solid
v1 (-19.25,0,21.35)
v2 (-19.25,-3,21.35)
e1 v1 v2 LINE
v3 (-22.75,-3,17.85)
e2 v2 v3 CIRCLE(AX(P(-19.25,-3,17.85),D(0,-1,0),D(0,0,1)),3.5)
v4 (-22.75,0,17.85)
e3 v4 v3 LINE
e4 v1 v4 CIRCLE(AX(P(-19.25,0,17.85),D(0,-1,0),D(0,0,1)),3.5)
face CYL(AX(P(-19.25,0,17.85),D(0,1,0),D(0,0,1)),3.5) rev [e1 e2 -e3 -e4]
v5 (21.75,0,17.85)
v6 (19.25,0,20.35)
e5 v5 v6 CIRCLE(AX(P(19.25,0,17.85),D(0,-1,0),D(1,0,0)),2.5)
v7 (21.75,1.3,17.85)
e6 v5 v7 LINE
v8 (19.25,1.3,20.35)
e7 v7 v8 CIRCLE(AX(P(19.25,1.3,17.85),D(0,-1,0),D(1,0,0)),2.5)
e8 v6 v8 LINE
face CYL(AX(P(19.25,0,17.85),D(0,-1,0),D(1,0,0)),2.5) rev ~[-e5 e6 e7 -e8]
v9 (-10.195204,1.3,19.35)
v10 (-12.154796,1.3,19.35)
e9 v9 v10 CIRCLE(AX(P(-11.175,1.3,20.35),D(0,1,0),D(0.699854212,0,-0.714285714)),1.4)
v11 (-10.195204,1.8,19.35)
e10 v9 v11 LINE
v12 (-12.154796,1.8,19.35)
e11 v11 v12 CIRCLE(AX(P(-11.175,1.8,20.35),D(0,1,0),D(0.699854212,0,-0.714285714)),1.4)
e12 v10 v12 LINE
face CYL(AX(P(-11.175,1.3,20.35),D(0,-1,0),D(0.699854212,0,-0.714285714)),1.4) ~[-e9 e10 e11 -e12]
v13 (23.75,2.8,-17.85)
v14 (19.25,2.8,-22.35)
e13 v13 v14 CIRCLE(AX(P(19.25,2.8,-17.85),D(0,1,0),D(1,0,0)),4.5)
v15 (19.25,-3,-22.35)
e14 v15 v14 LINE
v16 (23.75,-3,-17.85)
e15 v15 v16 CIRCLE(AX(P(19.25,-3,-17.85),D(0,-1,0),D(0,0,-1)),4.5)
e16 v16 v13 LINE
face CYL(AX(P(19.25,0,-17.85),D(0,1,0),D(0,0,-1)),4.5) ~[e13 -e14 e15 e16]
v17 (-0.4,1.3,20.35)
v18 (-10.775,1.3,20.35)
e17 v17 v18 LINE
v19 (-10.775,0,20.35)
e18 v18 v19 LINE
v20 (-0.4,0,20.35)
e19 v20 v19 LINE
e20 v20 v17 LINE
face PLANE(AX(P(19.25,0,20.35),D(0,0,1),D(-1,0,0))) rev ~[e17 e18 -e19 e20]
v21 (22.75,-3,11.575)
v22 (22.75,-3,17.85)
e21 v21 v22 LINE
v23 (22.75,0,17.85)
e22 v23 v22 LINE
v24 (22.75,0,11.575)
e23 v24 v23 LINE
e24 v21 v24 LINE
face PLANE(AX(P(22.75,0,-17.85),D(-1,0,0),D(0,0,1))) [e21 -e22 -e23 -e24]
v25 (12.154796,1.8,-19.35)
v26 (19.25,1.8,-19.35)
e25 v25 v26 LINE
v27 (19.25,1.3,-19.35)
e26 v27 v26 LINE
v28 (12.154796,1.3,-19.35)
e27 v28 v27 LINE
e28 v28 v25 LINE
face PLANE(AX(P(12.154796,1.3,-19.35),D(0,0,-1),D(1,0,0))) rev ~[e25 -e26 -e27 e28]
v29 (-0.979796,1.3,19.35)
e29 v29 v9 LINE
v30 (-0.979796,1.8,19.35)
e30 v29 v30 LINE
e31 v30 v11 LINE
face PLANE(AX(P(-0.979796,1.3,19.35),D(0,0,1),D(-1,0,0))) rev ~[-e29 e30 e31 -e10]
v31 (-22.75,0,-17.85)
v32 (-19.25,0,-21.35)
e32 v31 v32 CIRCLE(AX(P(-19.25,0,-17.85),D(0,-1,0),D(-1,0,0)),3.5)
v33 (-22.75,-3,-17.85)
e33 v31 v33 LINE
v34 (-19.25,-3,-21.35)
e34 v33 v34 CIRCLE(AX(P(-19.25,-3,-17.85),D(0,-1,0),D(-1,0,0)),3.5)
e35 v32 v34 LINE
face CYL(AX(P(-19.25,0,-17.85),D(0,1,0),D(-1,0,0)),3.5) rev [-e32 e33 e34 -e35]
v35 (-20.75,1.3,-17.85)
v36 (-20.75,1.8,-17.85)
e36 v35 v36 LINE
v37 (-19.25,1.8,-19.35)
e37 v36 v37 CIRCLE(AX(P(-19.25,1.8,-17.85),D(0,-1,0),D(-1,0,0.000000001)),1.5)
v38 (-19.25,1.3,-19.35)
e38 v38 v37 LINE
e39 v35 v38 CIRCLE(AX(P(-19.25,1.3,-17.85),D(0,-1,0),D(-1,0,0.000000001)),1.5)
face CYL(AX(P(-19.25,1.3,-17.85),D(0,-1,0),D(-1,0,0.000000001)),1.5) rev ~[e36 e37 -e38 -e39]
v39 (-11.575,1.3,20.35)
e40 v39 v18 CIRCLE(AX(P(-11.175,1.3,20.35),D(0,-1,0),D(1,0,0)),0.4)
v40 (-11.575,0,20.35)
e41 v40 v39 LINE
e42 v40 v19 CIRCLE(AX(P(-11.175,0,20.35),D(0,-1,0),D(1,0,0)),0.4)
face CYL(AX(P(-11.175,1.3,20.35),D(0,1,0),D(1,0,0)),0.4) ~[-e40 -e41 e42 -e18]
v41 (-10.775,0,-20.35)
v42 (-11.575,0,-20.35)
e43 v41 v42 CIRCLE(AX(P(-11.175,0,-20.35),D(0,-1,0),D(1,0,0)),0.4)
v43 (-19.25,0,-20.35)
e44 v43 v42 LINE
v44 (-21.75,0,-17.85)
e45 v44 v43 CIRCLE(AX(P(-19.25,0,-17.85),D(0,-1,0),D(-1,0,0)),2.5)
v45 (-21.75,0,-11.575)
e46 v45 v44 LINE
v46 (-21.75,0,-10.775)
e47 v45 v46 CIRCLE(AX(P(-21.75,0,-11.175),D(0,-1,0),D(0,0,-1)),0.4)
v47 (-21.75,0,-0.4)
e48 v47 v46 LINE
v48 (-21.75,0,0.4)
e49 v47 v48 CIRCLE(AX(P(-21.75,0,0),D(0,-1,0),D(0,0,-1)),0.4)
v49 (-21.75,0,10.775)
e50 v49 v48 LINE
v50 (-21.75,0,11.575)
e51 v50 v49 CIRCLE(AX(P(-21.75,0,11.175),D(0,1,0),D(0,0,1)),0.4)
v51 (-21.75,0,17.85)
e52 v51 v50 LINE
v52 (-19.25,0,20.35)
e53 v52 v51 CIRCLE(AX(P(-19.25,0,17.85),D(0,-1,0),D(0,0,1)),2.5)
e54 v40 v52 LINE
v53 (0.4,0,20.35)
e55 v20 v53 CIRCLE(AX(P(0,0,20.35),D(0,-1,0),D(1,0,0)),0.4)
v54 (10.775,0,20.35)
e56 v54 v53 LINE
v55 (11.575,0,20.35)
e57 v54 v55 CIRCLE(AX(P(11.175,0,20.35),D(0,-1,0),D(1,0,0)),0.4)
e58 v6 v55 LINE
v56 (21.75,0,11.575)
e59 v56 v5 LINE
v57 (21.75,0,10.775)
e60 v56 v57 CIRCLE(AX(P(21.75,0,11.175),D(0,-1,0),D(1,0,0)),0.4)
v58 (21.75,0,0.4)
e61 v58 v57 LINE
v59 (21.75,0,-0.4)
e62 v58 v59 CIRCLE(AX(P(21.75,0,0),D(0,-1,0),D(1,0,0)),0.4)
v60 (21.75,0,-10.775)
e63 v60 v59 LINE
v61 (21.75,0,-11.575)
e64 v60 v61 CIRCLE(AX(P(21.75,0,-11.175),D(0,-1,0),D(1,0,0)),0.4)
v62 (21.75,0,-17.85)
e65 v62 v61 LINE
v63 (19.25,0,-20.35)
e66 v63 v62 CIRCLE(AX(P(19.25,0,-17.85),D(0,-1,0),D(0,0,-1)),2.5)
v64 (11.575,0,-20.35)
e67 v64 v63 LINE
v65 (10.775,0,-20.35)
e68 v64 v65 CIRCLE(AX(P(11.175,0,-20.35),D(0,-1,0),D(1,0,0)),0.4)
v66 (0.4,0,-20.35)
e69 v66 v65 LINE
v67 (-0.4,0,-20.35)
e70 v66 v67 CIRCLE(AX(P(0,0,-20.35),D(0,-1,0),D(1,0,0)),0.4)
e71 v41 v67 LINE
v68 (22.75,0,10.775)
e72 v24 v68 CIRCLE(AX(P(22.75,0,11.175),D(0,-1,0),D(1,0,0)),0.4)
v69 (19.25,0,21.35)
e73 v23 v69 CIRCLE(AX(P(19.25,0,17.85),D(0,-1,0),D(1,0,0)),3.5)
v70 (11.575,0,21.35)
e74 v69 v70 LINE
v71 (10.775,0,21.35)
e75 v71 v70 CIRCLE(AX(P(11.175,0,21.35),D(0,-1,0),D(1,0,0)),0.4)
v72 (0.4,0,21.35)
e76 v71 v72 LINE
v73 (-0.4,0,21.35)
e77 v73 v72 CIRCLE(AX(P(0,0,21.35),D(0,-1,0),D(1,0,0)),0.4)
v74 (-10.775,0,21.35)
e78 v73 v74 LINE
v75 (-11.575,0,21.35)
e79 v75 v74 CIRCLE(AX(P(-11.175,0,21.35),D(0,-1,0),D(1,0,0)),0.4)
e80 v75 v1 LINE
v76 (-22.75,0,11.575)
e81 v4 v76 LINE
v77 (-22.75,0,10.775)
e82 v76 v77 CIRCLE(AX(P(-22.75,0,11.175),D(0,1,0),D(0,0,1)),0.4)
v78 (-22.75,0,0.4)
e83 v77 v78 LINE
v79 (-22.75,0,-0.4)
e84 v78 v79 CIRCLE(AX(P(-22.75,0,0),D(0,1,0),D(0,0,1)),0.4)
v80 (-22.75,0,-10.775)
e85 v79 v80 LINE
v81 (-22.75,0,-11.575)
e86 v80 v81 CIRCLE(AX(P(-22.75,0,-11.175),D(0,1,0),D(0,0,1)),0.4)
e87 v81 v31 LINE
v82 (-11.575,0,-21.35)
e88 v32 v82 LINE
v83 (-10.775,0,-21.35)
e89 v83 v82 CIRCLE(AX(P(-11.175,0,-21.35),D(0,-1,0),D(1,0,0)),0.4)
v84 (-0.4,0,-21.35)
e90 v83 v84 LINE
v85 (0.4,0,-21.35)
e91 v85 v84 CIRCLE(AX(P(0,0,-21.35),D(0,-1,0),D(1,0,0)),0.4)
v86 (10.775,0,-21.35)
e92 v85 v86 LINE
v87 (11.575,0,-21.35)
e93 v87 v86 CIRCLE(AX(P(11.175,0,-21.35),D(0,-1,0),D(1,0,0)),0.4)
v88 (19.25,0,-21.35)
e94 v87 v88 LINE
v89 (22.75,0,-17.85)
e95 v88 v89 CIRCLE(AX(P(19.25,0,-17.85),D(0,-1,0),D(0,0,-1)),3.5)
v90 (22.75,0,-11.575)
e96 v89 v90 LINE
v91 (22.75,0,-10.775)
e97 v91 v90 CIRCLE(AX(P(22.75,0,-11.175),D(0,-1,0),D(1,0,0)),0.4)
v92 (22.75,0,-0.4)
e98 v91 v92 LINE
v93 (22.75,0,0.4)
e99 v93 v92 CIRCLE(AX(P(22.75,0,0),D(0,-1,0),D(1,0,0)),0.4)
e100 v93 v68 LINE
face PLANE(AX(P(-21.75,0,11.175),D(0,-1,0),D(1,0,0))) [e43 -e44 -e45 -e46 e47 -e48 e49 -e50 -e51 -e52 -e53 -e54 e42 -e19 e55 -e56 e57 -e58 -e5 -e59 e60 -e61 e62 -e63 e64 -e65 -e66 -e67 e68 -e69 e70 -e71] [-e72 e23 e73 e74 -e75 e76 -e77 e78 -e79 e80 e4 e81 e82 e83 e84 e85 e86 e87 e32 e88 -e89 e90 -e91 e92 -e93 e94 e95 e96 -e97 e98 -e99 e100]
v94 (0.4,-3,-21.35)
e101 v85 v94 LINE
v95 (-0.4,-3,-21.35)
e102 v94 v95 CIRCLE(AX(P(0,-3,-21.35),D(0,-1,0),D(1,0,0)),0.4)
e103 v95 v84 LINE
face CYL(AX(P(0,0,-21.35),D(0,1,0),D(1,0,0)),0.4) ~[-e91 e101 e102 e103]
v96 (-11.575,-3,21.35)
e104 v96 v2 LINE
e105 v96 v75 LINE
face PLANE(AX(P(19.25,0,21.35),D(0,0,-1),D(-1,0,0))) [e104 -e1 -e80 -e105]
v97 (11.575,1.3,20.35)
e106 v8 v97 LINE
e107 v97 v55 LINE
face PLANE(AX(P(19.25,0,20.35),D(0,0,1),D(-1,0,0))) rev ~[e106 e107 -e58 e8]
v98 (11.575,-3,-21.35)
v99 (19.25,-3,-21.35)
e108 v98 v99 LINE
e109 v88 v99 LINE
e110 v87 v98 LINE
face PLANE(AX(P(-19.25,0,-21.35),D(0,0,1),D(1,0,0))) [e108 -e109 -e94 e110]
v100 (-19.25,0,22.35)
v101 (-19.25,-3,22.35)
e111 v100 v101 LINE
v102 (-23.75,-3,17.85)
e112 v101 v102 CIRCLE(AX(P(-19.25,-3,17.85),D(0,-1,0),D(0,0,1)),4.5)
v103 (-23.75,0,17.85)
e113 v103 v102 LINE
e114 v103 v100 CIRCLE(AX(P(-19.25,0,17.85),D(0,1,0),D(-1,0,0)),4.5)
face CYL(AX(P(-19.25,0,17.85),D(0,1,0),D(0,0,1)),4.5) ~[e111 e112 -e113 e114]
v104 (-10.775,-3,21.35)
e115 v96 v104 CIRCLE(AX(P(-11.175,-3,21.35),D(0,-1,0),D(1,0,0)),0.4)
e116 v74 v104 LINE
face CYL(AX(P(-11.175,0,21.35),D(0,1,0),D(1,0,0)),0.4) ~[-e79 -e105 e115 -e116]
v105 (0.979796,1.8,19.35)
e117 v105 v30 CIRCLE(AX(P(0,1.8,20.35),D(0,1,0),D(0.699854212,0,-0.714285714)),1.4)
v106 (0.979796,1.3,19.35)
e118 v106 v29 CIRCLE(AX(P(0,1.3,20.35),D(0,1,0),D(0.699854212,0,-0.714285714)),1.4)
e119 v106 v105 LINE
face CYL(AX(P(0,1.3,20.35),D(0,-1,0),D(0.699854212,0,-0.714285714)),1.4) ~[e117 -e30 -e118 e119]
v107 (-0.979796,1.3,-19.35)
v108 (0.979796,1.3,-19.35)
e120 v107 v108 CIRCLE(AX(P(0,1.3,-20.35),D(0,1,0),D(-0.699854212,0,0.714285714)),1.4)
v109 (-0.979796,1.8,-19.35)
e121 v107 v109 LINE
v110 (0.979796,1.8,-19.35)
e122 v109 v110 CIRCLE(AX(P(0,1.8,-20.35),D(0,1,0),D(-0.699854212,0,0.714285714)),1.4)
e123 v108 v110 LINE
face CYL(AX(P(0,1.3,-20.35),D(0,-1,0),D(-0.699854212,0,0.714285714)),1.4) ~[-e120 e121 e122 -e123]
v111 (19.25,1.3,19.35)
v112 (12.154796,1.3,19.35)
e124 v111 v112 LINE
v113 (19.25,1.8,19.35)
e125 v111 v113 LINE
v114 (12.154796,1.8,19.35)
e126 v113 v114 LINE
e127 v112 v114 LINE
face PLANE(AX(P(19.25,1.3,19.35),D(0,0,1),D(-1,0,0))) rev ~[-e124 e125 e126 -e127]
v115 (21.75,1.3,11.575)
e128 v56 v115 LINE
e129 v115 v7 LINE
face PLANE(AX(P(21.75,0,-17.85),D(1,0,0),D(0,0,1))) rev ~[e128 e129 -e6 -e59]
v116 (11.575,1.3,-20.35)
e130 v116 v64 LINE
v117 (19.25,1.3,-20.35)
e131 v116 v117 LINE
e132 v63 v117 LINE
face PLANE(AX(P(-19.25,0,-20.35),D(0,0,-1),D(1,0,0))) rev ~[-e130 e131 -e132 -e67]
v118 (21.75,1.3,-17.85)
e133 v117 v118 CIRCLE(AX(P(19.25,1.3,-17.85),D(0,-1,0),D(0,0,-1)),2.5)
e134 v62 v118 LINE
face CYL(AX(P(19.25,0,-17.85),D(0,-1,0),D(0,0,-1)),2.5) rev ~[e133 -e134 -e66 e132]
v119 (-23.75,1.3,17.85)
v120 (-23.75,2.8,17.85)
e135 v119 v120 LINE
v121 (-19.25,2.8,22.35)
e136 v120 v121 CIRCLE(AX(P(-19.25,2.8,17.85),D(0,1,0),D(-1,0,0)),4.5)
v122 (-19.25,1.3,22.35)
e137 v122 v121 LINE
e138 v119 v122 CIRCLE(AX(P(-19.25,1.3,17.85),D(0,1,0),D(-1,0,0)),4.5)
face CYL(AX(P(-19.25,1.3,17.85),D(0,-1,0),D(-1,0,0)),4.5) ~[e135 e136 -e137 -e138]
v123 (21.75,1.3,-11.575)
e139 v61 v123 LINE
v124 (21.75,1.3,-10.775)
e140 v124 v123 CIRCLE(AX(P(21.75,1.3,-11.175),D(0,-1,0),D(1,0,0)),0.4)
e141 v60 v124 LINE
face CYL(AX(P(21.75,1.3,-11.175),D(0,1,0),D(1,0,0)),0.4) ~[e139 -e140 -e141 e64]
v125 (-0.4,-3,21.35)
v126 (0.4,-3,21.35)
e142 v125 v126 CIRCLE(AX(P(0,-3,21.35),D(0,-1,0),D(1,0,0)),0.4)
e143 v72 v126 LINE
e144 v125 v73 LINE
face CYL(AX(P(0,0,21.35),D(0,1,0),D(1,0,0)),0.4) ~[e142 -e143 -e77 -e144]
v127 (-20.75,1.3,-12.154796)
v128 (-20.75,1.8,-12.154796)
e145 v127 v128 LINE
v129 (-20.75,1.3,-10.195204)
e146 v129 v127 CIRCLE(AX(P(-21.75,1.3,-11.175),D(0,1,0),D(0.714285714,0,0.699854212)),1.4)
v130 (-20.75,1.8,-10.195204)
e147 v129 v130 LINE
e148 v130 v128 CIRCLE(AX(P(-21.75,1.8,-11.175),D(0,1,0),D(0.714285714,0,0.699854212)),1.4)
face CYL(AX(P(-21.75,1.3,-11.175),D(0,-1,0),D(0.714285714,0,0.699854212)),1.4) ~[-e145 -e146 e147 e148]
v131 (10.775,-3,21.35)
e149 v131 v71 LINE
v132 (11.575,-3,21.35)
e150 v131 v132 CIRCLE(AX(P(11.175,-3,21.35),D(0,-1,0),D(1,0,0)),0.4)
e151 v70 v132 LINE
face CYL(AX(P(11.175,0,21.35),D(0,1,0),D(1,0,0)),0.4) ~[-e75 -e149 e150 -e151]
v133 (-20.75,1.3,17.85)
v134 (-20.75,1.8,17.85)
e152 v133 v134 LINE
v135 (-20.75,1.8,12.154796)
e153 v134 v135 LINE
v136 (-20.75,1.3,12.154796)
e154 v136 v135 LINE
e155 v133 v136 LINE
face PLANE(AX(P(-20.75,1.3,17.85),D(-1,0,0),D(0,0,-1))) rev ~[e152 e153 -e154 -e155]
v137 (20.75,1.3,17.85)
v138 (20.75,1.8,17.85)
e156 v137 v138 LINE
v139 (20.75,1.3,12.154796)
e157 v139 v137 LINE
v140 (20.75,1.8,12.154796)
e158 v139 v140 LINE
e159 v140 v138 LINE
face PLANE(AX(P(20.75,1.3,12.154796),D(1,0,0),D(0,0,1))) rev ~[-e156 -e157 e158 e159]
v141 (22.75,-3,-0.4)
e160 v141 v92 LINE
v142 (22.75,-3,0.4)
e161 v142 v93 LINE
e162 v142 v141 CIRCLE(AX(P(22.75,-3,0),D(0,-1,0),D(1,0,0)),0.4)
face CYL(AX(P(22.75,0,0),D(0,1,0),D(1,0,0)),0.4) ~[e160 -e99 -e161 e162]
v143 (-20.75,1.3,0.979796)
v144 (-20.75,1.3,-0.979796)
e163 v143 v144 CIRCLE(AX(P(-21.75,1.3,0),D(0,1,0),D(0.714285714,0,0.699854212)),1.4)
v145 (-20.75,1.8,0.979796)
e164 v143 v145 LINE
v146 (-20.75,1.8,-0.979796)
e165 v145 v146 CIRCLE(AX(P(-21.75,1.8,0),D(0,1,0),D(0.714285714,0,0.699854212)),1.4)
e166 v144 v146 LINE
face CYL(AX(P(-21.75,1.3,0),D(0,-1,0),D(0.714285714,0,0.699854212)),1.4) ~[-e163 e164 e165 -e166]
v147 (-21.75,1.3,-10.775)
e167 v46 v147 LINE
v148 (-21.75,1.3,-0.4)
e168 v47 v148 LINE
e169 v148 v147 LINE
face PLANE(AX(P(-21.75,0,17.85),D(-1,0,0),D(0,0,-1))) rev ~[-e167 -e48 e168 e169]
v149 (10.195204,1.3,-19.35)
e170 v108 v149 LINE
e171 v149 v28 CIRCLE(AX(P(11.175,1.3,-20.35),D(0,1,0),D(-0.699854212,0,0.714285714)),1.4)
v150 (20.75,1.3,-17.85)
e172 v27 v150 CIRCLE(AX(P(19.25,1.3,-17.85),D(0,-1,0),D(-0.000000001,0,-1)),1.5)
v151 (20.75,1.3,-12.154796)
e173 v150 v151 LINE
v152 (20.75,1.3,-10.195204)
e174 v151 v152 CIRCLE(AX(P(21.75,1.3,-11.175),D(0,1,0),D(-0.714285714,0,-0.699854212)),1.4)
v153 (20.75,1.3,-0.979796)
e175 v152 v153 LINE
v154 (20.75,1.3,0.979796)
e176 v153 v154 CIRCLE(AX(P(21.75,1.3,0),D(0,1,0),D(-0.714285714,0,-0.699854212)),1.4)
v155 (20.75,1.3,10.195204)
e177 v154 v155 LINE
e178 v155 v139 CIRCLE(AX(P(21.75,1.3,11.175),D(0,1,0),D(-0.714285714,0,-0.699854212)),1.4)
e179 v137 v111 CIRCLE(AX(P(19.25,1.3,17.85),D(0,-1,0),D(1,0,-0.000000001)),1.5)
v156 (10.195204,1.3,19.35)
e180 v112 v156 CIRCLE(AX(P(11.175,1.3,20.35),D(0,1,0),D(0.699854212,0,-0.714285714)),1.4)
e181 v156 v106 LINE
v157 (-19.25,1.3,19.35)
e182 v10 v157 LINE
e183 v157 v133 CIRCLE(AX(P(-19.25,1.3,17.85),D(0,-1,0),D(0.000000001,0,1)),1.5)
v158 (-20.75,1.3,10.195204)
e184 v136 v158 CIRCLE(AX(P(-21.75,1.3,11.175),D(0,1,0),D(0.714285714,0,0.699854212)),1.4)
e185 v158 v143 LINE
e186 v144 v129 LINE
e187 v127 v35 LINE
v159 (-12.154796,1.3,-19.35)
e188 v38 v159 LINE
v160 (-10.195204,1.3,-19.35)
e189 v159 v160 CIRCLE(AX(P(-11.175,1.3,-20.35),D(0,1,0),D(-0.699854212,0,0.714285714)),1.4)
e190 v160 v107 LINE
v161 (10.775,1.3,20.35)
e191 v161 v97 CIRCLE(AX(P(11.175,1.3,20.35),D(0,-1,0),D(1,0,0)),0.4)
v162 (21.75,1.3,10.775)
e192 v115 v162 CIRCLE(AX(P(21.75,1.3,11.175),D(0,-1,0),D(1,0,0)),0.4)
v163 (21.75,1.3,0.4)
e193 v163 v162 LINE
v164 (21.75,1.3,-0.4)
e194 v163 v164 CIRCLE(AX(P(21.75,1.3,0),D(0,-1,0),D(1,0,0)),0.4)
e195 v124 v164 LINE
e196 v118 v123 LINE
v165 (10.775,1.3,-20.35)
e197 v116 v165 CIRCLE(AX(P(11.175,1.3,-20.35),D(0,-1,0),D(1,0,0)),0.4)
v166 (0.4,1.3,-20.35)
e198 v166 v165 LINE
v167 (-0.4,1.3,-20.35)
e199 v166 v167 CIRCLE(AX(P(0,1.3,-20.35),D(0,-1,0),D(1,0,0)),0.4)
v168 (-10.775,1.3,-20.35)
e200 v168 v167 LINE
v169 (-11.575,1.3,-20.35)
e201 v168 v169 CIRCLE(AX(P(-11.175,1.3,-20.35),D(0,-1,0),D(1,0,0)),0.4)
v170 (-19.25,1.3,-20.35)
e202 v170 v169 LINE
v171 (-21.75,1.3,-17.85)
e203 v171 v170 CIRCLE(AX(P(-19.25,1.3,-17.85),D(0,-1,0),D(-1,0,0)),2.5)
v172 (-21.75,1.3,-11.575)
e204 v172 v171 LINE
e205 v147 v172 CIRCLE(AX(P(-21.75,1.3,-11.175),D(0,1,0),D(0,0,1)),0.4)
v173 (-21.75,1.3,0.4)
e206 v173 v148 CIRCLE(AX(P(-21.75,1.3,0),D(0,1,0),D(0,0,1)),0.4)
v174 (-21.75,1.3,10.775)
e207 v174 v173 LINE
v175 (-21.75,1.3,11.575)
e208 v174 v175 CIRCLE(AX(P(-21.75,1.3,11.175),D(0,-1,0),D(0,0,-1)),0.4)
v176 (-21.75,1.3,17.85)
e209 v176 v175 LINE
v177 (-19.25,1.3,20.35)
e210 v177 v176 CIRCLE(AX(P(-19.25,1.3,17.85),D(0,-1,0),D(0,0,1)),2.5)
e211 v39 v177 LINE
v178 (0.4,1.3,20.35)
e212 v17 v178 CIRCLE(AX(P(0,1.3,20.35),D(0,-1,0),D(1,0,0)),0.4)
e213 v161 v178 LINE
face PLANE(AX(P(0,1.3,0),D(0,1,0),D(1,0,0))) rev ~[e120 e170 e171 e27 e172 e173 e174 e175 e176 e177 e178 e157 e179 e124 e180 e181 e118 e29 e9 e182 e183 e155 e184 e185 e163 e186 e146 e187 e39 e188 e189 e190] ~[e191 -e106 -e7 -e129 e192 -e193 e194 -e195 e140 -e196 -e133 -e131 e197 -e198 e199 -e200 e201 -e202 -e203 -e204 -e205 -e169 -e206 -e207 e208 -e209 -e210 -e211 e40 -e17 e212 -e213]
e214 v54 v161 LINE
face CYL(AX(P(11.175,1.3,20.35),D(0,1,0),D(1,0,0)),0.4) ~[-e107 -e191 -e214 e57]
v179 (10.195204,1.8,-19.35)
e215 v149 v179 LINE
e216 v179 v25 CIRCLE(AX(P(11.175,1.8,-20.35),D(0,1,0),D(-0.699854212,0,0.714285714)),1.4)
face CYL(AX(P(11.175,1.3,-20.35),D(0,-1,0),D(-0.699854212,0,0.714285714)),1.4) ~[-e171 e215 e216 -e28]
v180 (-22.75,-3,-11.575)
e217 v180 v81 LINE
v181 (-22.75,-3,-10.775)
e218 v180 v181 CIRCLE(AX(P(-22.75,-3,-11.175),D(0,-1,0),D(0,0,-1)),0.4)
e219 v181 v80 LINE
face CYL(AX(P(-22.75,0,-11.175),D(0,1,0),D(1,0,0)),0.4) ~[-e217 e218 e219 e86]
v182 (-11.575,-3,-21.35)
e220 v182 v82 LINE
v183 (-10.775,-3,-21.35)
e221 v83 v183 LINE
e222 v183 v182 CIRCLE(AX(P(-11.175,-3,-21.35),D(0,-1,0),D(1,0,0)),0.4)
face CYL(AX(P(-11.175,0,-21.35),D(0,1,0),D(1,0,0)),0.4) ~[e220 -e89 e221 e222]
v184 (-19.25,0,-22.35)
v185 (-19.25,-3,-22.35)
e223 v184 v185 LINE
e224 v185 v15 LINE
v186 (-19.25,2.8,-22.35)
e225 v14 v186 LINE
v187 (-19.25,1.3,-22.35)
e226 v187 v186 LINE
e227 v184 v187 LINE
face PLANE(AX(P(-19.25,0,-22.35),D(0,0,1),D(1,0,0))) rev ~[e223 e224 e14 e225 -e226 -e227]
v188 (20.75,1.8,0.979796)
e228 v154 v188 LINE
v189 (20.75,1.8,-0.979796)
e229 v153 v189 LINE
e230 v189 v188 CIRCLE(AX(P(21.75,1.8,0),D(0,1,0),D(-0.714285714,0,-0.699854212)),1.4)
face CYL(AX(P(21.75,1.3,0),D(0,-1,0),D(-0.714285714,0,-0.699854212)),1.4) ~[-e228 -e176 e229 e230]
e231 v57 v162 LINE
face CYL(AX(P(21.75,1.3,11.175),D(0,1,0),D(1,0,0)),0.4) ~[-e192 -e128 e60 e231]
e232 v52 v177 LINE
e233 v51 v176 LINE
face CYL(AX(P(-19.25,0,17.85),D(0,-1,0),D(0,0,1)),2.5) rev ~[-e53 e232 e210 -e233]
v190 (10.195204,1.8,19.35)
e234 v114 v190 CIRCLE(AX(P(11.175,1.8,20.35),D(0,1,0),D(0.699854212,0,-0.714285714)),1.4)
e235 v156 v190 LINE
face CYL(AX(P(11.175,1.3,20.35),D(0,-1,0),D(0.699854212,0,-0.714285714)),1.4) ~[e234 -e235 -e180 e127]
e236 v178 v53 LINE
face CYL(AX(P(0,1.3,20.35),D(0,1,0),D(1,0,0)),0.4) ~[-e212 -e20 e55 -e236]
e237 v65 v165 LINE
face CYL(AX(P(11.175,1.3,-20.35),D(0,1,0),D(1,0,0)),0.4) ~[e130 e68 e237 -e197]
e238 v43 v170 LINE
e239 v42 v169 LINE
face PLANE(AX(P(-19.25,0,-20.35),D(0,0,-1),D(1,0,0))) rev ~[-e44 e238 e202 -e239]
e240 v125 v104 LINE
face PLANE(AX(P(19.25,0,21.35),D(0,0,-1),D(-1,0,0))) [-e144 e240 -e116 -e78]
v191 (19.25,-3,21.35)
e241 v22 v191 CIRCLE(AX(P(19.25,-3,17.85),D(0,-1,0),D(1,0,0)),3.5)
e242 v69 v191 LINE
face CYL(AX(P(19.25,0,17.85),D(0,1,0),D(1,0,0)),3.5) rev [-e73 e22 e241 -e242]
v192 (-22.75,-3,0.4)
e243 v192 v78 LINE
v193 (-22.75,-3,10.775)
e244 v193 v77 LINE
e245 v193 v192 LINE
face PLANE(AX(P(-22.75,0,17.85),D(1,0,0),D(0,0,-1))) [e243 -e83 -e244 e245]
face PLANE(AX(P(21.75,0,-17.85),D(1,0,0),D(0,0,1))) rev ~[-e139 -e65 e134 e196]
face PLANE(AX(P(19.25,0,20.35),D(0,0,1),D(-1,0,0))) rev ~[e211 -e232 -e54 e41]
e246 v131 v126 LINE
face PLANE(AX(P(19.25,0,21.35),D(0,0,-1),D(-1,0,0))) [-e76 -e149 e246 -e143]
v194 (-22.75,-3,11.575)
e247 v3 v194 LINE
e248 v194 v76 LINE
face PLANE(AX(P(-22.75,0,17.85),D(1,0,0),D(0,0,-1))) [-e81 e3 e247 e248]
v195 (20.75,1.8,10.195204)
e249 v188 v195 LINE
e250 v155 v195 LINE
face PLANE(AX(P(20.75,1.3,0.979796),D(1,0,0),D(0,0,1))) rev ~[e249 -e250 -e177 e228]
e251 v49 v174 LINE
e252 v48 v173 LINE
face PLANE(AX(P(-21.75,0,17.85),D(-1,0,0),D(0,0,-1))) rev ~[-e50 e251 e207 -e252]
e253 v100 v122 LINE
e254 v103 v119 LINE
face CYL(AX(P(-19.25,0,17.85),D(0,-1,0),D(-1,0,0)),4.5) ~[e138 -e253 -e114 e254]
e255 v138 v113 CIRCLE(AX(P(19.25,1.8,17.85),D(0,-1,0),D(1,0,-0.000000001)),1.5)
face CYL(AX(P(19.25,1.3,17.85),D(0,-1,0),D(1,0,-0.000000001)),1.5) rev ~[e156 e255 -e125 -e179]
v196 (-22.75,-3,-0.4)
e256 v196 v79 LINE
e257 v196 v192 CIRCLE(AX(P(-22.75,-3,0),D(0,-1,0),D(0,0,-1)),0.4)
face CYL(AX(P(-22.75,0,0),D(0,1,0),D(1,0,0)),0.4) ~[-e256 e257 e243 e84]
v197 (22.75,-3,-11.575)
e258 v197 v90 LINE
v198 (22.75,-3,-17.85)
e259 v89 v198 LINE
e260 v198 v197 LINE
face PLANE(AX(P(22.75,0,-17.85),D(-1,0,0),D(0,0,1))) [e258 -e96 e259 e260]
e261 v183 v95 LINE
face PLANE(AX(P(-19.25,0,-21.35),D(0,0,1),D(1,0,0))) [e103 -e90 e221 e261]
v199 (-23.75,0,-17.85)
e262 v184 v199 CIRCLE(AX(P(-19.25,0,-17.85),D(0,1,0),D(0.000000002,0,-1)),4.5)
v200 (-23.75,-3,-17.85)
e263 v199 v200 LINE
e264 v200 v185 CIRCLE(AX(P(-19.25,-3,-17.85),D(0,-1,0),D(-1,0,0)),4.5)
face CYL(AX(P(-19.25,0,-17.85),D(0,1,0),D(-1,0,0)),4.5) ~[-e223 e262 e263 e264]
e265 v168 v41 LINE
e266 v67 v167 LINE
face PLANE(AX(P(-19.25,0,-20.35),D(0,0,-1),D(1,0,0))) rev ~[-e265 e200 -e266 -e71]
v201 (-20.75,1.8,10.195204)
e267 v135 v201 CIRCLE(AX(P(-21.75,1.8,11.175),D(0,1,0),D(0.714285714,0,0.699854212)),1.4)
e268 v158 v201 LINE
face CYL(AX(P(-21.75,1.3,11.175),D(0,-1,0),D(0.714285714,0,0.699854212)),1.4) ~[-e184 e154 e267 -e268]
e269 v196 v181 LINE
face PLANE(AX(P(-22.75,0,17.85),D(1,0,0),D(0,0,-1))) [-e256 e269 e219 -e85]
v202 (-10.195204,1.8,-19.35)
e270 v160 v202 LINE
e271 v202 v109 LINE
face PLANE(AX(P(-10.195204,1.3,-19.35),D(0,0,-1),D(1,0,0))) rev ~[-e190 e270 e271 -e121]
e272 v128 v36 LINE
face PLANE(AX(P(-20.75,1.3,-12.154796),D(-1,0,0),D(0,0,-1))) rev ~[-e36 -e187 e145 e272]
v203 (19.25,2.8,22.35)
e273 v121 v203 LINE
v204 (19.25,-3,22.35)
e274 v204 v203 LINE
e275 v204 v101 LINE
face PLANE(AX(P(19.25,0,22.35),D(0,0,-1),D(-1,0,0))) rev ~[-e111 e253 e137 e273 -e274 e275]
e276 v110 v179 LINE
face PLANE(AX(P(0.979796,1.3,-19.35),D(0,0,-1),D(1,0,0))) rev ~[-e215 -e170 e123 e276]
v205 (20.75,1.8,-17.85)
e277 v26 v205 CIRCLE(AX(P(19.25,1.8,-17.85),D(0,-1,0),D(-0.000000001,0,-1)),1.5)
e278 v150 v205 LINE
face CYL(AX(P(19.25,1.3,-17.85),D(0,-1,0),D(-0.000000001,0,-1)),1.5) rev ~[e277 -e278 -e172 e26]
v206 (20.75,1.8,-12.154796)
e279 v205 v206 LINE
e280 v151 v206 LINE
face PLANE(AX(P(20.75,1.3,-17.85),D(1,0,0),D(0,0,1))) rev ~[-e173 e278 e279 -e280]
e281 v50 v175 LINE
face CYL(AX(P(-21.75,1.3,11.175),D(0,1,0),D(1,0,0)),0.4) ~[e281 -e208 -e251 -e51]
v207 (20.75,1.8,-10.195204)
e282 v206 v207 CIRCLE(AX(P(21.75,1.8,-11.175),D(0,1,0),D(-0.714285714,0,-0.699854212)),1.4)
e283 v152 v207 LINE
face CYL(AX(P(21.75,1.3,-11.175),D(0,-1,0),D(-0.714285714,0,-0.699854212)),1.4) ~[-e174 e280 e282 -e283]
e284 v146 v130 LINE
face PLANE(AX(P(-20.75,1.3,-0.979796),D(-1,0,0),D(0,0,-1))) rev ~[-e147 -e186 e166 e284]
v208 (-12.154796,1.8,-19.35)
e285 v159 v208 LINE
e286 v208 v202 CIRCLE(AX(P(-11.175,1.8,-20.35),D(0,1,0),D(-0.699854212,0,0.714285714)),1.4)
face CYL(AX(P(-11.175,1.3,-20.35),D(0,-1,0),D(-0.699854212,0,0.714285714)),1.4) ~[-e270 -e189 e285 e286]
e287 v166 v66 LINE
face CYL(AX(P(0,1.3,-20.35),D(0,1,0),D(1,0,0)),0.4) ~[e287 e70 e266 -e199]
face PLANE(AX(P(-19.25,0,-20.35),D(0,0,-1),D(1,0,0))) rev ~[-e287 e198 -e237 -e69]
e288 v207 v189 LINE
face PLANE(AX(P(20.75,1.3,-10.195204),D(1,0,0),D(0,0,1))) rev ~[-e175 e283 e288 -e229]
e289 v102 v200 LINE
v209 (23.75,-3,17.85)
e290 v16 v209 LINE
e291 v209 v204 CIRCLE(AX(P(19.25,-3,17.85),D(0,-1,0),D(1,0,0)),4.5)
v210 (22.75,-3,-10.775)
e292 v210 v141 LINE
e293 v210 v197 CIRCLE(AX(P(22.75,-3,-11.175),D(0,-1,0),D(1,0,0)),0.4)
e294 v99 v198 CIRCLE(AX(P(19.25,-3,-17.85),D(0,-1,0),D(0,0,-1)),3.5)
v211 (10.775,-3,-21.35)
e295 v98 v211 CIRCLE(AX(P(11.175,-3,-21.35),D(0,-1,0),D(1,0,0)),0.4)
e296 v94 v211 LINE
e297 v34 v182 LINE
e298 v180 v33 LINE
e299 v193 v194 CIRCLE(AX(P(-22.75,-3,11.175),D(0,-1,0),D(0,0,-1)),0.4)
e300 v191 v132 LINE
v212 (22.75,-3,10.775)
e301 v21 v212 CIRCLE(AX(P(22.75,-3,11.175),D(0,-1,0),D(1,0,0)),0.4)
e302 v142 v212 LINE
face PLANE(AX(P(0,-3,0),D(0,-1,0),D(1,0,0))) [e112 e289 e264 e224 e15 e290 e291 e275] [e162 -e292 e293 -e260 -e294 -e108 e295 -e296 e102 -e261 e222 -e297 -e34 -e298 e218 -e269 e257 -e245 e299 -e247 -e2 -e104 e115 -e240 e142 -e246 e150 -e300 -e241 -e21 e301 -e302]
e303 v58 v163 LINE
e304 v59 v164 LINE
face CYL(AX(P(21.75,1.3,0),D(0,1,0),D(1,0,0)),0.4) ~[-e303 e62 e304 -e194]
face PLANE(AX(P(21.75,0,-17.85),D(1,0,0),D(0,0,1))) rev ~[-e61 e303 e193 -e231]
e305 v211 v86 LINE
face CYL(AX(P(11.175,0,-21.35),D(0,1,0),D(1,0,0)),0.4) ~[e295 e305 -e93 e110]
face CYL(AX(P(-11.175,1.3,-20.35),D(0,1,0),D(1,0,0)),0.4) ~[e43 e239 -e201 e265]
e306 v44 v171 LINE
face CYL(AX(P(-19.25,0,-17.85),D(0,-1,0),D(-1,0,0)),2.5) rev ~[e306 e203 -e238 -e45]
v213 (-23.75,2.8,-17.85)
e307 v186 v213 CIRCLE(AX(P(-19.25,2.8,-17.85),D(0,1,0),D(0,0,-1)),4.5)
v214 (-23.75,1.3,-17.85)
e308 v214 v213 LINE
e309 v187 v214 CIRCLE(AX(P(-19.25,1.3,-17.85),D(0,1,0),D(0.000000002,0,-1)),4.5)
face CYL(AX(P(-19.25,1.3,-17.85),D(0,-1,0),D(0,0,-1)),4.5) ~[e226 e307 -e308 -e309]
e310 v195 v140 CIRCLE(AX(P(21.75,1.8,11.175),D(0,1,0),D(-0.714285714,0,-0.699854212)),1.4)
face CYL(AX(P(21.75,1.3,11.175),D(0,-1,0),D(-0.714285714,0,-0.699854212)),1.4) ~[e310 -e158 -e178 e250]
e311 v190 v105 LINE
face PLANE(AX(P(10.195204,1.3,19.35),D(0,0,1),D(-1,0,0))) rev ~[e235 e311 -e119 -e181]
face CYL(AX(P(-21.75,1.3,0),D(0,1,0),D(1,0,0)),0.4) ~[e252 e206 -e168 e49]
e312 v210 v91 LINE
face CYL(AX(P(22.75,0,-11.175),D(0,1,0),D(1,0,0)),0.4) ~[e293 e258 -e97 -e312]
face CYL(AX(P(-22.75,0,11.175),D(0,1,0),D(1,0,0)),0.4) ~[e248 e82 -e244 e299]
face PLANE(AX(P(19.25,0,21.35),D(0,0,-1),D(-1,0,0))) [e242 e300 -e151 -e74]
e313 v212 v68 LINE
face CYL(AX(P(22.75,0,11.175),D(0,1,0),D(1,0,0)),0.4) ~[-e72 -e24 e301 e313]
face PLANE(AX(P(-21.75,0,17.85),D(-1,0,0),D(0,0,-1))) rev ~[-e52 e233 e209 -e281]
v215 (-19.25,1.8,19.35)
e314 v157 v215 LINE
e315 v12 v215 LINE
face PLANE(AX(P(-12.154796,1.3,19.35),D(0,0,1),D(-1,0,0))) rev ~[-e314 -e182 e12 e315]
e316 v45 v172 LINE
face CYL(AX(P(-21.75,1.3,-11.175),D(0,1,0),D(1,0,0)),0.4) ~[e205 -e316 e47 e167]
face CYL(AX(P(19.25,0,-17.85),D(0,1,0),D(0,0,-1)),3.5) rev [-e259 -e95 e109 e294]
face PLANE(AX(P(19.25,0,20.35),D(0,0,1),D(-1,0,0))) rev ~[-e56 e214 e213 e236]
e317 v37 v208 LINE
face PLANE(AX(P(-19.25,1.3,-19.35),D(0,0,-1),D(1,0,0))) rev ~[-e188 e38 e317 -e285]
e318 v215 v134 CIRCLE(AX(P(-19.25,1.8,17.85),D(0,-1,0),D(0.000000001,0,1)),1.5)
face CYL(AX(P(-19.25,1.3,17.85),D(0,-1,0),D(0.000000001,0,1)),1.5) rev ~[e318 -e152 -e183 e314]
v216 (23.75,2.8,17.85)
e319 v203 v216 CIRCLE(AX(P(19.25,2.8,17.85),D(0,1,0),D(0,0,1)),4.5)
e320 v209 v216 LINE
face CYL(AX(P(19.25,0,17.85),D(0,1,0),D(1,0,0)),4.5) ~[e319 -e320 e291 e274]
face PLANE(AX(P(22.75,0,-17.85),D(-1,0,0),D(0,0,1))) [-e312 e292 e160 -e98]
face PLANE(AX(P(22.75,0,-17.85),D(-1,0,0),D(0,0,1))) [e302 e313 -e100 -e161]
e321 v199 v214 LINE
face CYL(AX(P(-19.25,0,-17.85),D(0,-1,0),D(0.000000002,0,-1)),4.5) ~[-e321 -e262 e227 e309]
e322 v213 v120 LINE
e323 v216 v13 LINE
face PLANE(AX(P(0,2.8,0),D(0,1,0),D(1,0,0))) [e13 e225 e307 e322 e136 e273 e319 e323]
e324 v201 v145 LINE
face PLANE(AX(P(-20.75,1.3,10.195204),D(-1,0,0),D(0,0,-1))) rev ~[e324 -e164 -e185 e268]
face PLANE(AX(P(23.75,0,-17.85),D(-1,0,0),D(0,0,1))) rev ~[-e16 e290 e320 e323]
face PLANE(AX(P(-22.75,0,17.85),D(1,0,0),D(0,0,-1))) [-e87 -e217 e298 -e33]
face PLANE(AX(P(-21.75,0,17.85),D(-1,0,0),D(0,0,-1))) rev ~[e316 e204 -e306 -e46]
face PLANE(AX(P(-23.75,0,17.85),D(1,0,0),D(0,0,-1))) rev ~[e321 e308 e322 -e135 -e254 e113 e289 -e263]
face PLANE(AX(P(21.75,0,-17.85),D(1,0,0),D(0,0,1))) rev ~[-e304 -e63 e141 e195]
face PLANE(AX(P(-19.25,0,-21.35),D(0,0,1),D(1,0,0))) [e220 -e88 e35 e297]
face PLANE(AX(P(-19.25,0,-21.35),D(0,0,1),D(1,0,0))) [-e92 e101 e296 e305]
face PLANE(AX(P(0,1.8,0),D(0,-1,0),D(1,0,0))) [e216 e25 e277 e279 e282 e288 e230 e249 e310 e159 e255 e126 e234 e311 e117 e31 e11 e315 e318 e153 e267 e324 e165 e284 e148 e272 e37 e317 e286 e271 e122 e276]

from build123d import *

# Parameters (mm, degrees)
BOSS_EXTRUDE1_DEPTH = 1.3
BOSS_EXTRUDE2_DEPTH = 1.5
SKETCH3_R           = 0.4
BOSS_EXTRUDE3_DEPTH = 1.3
BOSS_EXTRUDE4_DEPTH = 3
CUT_EXTRUDE1_DEPTH  = 0.5
SKETCH8_R           = 0.4
BOSS_EXTRUDE5_DEPTH = 3


with BuildPart() as part:
    # Sketch1 → Boss-Extrude1 (new body)
    with BuildSketch(Plane(origin=(0, 0, 0), x_dir=(1, 0, 0), z_dir=(0, 1, 0))):
        with BuildLine():
            Line((-19.250000047, -22.35), (19.25, -22.35))
            ThreePointArc((19.25, -22.35), (22.431980515, -21.031980515), (23.75, -17.85))
            Line((23.75, -17.85), (23.75, 17.85))
            ThreePointArc((23.75, 17.85), (22.431980515, 21.031980515), (19.25, 22.35))
            Line((19.25, 22.35), (-19.249999992, 22.35))
            ThreePointArc((-19.249999992, 22.35), (-22.431980512, 21.031980518), (-23.75, 17.85))
            Line((-23.75, 17.85), (-23.75, -17.85))
            ThreePointArc((-23.75, -17.85), (-22.431980532, -21.031980499), (-19.250000047, -22.35))
        make_face()
        with BuildLine():
            ThreePointArc((19.25, 20.35), (21.017766953, 19.617766953), (21.75, 17.85))
            Line((21.75, 17.85), (21.75, -17.85))
            ThreePointArc((21.75, -17.85), (21.017766953, -19.617766953), (19.25, -20.35))
            Line((19.25, -20.35), (-19.25, -20.35))
            ThreePointArc((-19.25, -20.35), (-21.017766953, -19.617766953), (-21.75, -17.85))
            Line((-21.75, -17.85), (-21.75, 17.85))
            ThreePointArc((-21.75, 17.85), (-21.017766953, 19.617766953), (-19.25, 20.35))
            Line((-19.25, 20.35), (19.25, 20.35))
        make_face(mode=Mode.SUBTRACT)
    extrude(amount=BOSS_EXTRUDE1_DEPTH)

    # Sketch2 → Boss-Extrude2 (add)
    with BuildSketch(Plane(origin=(0, 1.3, 0), x_dir=(1, 0, 0), z_dir=(0, 1, 0))):
        with BuildLine():
            Line((-19.25, -22.35), (19.25, -22.35))
            ThreePointArc((19.25, -22.35), (22.431980515, -21.031980515), (23.75, -17.85))
            Line((23.75, -17.85), (23.75, 17.85))
            ThreePointArc((23.75, 17.85), (22.431980515, 21.031980515), (19.25, 22.35))
            Line((19.25, 22.35), (-19.25, 22.35))
            ThreePointArc((-19.25, 22.35), (-22.431980515, 21.031980515), (-23.75, 17.85))
            Line((-23.75, 17.85), (-23.75, -17.85))
            ThreePointArc((-23.75, -17.85), (-22.431980515, -21.031980515), (-19.25, -22.35))
        make_face()
    extrude(amount=BOSS_EXTRUDE2_DEPTH)

    # Sketch3 → Boss-Extrude3 (add)
    with BuildSketch(Plane.XZ.offset(-1.3)):
        with Locations((-21.75, 11.175)):
            Circle(SKETCH3_R)
        with Locations((-21.75, 0)):
            Circle(SKETCH3_R)
        with Locations((-21.75, -11.175)):
            Circle(SKETCH3_R)
        with Locations((-11.175, -20.35)):
            Circle(SKETCH3_R)
        with Locations((11.175, -20.35)):
            Circle(SKETCH3_R)
        with Locations((21.75, -11.175)):
            Circle(SKETCH3_R)
        with Locations((21.75, 0)):
            Circle(SKETCH3_R)
        with Locations((21.75, 11.175)):
            Circle(SKETCH3_R)
        with Locations((11.175, 20.35)):
            Circle(SKETCH3_R)
        with Locations((0, 20.35)):
            Circle(SKETCH3_R)
        with Locations((-11.175, 20.35)):
            Circle(SKETCH3_R)
        with Locations((0, -20.35)):
            Circle(SKETCH3_R)
    extrude(amount=BOSS_EXTRUDE3_DEPTH)

    # Sketch4 → Boss-Extrude4 (add)
    with BuildSketch(Plane.XZ):
        with BuildLine():
            Line((19.25, 22.35), (-19.25, 22.35))
            ThreePointArc((-19.25, 22.35), (-22.431980515, 21.031980515), (-23.75, 17.85))
            Line((-23.75, 17.85), (-23.75, -17.85))
            ThreePointArc((-23.75, -17.85), (-22.431980515, -21.031980515), (-19.25, -22.35))
            Line((-19.25, -22.35), (19.25, -22.35))
            ThreePointArc((19.25, -22.35), (22.431980515, -21.031980515), (23.75, -17.85))
            Line((23.75, -17.85), (23.75, 17.85))
            ThreePointArc((23.75, 17.85), (22.431980515, 21.031980515), (19.25, 22.35))
        make_face()
        with BuildLine():
            Line((-22.75, 17.85), (-22.75, -17.85))
            ThreePointArc((-22.75, -17.85), (-21.724873734, -20.324873734), (-19.25, -21.35))
            Line((-19.25, -21.35), (19.25, -21.35))
            ThreePointArc((19.25, -21.35), (21.724873734, -20.324873734), (22.75, -17.85))
            Line((22.75, -17.85), (22.75, 17.85))
            ThreePointArc((22.75, 17.85), (21.724873734, 20.324873734), (19.25, 21.35))
            Line((19.25, 21.35), (-19.25, 21.35))
            ThreePointArc((-19.25, 21.35), (-21.724873734, 20.324873734), (-22.75, 17.85))
        make_face(mode=Mode.SUBTRACT)
    extrude(amount=BOSS_EXTRUDE4_DEPTH)

    # Sketch5 → Cut-Extrude1 (cut)
    with BuildSketch(Plane.XZ.offset(-1.3)):
        with BuildLine():
            Line((0.979795897, -19.35), (10.195204103, -19.35))
            ThreePointArc((10.195204103, -19.35), (11.175, -18.95), (12.154795897, -19.35))
            Line((12.154795897, -19.35), (19.25, -19.35))
            ThreePointArc((19.25, -19.35), (20.310660172, -18.910660172), (20.75, -17.85))
            Line((20.75, -17.85), (20.75, -12.154795897))
            ThreePointArc((20.75, -12.154795897), (20.35, -11.175), (20.75, -10.195204103))
            Line((20.75, -10.195204103), (20.75, -0.979795897))
            ThreePointArc((20.75, -0.979795897), (20.35, 0), (20.75, 0.979795897))
            Line((20.75, 0.979795897), (20.75, 10.195204103))
            ThreePointArc((20.75, 10.195204103), (20.35, 11.175), (20.75, 12.154795897))
            Line((20.75, 12.154795897), (20.75, 17.85))
            ThreePointArc((20.75, 17.85), (20.310660172, 18.910660172), (19.25, 19.35))
            Line((19.25, 19.35), (12.154795897, 19.35))
            ThreePointArc((12.154795897, 19.35), (11.175, 18.95), (10.195204103, 19.35))
            Line((10.195204103, 19.35), (0.979795897, 19.35))
            ThreePointArc((0.979795897, 19.35), (0, 18.95), (-0.979795897, 19.35))
            Line((-0.979795897, 19.35), (-10.195204103, 19.35))
            ThreePointArc((-10.195204103, 19.35), (-11.175, 18.95), (-12.154795897, 19.35))
            Line((-12.154795897, 19.35), (-19.25, 19.35))
            ThreePointArc((-19.25, 19.35), (-20.310660172, 18.910660172), (-20.75, 17.85))
            Line((-20.75, 17.85), (-20.75, 12.154795897))
            ThreePointArc((-20.75, 12.154795897), (-20.35, 11.175), (-20.75, 10.195204103))
            Line((-20.75, 10.195204103), (-20.75, 0.979795897))
            ThreePointArc((-20.75, 0.979795897), (-20.35, 0), (-20.75, -0.979795897))
            Line((-20.75, -0.979795897), (-20.75, -10.195204103))
            ThreePointArc((-20.75, -10.195204103), (-20.35, -11.175), (-20.75, -12.154795897))
            Line((-20.75, -12.154795897), (-20.75, -17.85))
            ThreePointArc((-20.75, -17.85), (-20.310660172, -18.910660172), (-19.25, -19.35))
            Line((-19.25, -19.35), (-12.154795897, -19.35))
            ThreePointArc((-12.154795897, -19.35), (-11.175, -18.95), (-10.195204103, -19.35))
            Line((-10.195204103, -19.35), (-0.979795897, -19.35))
            ThreePointArc((-0.979795897, -19.35), (0, -18.95), (0.979795897, -19.35))
        make_face()
    extrude(amount=-CUT_EXTRUDE1_DEPTH, mode=Mode.SUBTRACT)

    # Sketch8 → Boss-Extrude5 (add)
    with BuildSketch(Plane.XZ):
        with Locations((-11.175, 21.35)):
            Circle(SKETCH8_R)
        with Locations((0, 21.35)):
            Circle(SKETCH8_R)
        with Locations((11.175, 21.35)):
            Circle(SKETCH8_R)
        with Locations((22.75, 11.175)):
            Circle(SKETCH8_R)
        with Locations((-22.75, 11.175)):
            Circle(SKETCH8_R)
        with Locations((-22.75, 0)):
            Circle(SKETCH8_R)
        with Locations((22.75, 0)):
            Circle(SKETCH8_R)
        with Locations((22.75, -11.175)):
            Circle(SKETCH8_R)
        with Locations((11.175, -21.35)):
            Circle(SKETCH8_R)
        with Locations((0, -21.35)):
            Circle(SKETCH8_R)
        with Locations((-11.175, -21.35)):
            Circle(SKETCH8_R)
        with Locations((-22.75, -11.175)):
            Circle(SKETCH8_R)
    extrude(amount=BOSS_EXTRUDE5_DEPTH)


solid = part.part
